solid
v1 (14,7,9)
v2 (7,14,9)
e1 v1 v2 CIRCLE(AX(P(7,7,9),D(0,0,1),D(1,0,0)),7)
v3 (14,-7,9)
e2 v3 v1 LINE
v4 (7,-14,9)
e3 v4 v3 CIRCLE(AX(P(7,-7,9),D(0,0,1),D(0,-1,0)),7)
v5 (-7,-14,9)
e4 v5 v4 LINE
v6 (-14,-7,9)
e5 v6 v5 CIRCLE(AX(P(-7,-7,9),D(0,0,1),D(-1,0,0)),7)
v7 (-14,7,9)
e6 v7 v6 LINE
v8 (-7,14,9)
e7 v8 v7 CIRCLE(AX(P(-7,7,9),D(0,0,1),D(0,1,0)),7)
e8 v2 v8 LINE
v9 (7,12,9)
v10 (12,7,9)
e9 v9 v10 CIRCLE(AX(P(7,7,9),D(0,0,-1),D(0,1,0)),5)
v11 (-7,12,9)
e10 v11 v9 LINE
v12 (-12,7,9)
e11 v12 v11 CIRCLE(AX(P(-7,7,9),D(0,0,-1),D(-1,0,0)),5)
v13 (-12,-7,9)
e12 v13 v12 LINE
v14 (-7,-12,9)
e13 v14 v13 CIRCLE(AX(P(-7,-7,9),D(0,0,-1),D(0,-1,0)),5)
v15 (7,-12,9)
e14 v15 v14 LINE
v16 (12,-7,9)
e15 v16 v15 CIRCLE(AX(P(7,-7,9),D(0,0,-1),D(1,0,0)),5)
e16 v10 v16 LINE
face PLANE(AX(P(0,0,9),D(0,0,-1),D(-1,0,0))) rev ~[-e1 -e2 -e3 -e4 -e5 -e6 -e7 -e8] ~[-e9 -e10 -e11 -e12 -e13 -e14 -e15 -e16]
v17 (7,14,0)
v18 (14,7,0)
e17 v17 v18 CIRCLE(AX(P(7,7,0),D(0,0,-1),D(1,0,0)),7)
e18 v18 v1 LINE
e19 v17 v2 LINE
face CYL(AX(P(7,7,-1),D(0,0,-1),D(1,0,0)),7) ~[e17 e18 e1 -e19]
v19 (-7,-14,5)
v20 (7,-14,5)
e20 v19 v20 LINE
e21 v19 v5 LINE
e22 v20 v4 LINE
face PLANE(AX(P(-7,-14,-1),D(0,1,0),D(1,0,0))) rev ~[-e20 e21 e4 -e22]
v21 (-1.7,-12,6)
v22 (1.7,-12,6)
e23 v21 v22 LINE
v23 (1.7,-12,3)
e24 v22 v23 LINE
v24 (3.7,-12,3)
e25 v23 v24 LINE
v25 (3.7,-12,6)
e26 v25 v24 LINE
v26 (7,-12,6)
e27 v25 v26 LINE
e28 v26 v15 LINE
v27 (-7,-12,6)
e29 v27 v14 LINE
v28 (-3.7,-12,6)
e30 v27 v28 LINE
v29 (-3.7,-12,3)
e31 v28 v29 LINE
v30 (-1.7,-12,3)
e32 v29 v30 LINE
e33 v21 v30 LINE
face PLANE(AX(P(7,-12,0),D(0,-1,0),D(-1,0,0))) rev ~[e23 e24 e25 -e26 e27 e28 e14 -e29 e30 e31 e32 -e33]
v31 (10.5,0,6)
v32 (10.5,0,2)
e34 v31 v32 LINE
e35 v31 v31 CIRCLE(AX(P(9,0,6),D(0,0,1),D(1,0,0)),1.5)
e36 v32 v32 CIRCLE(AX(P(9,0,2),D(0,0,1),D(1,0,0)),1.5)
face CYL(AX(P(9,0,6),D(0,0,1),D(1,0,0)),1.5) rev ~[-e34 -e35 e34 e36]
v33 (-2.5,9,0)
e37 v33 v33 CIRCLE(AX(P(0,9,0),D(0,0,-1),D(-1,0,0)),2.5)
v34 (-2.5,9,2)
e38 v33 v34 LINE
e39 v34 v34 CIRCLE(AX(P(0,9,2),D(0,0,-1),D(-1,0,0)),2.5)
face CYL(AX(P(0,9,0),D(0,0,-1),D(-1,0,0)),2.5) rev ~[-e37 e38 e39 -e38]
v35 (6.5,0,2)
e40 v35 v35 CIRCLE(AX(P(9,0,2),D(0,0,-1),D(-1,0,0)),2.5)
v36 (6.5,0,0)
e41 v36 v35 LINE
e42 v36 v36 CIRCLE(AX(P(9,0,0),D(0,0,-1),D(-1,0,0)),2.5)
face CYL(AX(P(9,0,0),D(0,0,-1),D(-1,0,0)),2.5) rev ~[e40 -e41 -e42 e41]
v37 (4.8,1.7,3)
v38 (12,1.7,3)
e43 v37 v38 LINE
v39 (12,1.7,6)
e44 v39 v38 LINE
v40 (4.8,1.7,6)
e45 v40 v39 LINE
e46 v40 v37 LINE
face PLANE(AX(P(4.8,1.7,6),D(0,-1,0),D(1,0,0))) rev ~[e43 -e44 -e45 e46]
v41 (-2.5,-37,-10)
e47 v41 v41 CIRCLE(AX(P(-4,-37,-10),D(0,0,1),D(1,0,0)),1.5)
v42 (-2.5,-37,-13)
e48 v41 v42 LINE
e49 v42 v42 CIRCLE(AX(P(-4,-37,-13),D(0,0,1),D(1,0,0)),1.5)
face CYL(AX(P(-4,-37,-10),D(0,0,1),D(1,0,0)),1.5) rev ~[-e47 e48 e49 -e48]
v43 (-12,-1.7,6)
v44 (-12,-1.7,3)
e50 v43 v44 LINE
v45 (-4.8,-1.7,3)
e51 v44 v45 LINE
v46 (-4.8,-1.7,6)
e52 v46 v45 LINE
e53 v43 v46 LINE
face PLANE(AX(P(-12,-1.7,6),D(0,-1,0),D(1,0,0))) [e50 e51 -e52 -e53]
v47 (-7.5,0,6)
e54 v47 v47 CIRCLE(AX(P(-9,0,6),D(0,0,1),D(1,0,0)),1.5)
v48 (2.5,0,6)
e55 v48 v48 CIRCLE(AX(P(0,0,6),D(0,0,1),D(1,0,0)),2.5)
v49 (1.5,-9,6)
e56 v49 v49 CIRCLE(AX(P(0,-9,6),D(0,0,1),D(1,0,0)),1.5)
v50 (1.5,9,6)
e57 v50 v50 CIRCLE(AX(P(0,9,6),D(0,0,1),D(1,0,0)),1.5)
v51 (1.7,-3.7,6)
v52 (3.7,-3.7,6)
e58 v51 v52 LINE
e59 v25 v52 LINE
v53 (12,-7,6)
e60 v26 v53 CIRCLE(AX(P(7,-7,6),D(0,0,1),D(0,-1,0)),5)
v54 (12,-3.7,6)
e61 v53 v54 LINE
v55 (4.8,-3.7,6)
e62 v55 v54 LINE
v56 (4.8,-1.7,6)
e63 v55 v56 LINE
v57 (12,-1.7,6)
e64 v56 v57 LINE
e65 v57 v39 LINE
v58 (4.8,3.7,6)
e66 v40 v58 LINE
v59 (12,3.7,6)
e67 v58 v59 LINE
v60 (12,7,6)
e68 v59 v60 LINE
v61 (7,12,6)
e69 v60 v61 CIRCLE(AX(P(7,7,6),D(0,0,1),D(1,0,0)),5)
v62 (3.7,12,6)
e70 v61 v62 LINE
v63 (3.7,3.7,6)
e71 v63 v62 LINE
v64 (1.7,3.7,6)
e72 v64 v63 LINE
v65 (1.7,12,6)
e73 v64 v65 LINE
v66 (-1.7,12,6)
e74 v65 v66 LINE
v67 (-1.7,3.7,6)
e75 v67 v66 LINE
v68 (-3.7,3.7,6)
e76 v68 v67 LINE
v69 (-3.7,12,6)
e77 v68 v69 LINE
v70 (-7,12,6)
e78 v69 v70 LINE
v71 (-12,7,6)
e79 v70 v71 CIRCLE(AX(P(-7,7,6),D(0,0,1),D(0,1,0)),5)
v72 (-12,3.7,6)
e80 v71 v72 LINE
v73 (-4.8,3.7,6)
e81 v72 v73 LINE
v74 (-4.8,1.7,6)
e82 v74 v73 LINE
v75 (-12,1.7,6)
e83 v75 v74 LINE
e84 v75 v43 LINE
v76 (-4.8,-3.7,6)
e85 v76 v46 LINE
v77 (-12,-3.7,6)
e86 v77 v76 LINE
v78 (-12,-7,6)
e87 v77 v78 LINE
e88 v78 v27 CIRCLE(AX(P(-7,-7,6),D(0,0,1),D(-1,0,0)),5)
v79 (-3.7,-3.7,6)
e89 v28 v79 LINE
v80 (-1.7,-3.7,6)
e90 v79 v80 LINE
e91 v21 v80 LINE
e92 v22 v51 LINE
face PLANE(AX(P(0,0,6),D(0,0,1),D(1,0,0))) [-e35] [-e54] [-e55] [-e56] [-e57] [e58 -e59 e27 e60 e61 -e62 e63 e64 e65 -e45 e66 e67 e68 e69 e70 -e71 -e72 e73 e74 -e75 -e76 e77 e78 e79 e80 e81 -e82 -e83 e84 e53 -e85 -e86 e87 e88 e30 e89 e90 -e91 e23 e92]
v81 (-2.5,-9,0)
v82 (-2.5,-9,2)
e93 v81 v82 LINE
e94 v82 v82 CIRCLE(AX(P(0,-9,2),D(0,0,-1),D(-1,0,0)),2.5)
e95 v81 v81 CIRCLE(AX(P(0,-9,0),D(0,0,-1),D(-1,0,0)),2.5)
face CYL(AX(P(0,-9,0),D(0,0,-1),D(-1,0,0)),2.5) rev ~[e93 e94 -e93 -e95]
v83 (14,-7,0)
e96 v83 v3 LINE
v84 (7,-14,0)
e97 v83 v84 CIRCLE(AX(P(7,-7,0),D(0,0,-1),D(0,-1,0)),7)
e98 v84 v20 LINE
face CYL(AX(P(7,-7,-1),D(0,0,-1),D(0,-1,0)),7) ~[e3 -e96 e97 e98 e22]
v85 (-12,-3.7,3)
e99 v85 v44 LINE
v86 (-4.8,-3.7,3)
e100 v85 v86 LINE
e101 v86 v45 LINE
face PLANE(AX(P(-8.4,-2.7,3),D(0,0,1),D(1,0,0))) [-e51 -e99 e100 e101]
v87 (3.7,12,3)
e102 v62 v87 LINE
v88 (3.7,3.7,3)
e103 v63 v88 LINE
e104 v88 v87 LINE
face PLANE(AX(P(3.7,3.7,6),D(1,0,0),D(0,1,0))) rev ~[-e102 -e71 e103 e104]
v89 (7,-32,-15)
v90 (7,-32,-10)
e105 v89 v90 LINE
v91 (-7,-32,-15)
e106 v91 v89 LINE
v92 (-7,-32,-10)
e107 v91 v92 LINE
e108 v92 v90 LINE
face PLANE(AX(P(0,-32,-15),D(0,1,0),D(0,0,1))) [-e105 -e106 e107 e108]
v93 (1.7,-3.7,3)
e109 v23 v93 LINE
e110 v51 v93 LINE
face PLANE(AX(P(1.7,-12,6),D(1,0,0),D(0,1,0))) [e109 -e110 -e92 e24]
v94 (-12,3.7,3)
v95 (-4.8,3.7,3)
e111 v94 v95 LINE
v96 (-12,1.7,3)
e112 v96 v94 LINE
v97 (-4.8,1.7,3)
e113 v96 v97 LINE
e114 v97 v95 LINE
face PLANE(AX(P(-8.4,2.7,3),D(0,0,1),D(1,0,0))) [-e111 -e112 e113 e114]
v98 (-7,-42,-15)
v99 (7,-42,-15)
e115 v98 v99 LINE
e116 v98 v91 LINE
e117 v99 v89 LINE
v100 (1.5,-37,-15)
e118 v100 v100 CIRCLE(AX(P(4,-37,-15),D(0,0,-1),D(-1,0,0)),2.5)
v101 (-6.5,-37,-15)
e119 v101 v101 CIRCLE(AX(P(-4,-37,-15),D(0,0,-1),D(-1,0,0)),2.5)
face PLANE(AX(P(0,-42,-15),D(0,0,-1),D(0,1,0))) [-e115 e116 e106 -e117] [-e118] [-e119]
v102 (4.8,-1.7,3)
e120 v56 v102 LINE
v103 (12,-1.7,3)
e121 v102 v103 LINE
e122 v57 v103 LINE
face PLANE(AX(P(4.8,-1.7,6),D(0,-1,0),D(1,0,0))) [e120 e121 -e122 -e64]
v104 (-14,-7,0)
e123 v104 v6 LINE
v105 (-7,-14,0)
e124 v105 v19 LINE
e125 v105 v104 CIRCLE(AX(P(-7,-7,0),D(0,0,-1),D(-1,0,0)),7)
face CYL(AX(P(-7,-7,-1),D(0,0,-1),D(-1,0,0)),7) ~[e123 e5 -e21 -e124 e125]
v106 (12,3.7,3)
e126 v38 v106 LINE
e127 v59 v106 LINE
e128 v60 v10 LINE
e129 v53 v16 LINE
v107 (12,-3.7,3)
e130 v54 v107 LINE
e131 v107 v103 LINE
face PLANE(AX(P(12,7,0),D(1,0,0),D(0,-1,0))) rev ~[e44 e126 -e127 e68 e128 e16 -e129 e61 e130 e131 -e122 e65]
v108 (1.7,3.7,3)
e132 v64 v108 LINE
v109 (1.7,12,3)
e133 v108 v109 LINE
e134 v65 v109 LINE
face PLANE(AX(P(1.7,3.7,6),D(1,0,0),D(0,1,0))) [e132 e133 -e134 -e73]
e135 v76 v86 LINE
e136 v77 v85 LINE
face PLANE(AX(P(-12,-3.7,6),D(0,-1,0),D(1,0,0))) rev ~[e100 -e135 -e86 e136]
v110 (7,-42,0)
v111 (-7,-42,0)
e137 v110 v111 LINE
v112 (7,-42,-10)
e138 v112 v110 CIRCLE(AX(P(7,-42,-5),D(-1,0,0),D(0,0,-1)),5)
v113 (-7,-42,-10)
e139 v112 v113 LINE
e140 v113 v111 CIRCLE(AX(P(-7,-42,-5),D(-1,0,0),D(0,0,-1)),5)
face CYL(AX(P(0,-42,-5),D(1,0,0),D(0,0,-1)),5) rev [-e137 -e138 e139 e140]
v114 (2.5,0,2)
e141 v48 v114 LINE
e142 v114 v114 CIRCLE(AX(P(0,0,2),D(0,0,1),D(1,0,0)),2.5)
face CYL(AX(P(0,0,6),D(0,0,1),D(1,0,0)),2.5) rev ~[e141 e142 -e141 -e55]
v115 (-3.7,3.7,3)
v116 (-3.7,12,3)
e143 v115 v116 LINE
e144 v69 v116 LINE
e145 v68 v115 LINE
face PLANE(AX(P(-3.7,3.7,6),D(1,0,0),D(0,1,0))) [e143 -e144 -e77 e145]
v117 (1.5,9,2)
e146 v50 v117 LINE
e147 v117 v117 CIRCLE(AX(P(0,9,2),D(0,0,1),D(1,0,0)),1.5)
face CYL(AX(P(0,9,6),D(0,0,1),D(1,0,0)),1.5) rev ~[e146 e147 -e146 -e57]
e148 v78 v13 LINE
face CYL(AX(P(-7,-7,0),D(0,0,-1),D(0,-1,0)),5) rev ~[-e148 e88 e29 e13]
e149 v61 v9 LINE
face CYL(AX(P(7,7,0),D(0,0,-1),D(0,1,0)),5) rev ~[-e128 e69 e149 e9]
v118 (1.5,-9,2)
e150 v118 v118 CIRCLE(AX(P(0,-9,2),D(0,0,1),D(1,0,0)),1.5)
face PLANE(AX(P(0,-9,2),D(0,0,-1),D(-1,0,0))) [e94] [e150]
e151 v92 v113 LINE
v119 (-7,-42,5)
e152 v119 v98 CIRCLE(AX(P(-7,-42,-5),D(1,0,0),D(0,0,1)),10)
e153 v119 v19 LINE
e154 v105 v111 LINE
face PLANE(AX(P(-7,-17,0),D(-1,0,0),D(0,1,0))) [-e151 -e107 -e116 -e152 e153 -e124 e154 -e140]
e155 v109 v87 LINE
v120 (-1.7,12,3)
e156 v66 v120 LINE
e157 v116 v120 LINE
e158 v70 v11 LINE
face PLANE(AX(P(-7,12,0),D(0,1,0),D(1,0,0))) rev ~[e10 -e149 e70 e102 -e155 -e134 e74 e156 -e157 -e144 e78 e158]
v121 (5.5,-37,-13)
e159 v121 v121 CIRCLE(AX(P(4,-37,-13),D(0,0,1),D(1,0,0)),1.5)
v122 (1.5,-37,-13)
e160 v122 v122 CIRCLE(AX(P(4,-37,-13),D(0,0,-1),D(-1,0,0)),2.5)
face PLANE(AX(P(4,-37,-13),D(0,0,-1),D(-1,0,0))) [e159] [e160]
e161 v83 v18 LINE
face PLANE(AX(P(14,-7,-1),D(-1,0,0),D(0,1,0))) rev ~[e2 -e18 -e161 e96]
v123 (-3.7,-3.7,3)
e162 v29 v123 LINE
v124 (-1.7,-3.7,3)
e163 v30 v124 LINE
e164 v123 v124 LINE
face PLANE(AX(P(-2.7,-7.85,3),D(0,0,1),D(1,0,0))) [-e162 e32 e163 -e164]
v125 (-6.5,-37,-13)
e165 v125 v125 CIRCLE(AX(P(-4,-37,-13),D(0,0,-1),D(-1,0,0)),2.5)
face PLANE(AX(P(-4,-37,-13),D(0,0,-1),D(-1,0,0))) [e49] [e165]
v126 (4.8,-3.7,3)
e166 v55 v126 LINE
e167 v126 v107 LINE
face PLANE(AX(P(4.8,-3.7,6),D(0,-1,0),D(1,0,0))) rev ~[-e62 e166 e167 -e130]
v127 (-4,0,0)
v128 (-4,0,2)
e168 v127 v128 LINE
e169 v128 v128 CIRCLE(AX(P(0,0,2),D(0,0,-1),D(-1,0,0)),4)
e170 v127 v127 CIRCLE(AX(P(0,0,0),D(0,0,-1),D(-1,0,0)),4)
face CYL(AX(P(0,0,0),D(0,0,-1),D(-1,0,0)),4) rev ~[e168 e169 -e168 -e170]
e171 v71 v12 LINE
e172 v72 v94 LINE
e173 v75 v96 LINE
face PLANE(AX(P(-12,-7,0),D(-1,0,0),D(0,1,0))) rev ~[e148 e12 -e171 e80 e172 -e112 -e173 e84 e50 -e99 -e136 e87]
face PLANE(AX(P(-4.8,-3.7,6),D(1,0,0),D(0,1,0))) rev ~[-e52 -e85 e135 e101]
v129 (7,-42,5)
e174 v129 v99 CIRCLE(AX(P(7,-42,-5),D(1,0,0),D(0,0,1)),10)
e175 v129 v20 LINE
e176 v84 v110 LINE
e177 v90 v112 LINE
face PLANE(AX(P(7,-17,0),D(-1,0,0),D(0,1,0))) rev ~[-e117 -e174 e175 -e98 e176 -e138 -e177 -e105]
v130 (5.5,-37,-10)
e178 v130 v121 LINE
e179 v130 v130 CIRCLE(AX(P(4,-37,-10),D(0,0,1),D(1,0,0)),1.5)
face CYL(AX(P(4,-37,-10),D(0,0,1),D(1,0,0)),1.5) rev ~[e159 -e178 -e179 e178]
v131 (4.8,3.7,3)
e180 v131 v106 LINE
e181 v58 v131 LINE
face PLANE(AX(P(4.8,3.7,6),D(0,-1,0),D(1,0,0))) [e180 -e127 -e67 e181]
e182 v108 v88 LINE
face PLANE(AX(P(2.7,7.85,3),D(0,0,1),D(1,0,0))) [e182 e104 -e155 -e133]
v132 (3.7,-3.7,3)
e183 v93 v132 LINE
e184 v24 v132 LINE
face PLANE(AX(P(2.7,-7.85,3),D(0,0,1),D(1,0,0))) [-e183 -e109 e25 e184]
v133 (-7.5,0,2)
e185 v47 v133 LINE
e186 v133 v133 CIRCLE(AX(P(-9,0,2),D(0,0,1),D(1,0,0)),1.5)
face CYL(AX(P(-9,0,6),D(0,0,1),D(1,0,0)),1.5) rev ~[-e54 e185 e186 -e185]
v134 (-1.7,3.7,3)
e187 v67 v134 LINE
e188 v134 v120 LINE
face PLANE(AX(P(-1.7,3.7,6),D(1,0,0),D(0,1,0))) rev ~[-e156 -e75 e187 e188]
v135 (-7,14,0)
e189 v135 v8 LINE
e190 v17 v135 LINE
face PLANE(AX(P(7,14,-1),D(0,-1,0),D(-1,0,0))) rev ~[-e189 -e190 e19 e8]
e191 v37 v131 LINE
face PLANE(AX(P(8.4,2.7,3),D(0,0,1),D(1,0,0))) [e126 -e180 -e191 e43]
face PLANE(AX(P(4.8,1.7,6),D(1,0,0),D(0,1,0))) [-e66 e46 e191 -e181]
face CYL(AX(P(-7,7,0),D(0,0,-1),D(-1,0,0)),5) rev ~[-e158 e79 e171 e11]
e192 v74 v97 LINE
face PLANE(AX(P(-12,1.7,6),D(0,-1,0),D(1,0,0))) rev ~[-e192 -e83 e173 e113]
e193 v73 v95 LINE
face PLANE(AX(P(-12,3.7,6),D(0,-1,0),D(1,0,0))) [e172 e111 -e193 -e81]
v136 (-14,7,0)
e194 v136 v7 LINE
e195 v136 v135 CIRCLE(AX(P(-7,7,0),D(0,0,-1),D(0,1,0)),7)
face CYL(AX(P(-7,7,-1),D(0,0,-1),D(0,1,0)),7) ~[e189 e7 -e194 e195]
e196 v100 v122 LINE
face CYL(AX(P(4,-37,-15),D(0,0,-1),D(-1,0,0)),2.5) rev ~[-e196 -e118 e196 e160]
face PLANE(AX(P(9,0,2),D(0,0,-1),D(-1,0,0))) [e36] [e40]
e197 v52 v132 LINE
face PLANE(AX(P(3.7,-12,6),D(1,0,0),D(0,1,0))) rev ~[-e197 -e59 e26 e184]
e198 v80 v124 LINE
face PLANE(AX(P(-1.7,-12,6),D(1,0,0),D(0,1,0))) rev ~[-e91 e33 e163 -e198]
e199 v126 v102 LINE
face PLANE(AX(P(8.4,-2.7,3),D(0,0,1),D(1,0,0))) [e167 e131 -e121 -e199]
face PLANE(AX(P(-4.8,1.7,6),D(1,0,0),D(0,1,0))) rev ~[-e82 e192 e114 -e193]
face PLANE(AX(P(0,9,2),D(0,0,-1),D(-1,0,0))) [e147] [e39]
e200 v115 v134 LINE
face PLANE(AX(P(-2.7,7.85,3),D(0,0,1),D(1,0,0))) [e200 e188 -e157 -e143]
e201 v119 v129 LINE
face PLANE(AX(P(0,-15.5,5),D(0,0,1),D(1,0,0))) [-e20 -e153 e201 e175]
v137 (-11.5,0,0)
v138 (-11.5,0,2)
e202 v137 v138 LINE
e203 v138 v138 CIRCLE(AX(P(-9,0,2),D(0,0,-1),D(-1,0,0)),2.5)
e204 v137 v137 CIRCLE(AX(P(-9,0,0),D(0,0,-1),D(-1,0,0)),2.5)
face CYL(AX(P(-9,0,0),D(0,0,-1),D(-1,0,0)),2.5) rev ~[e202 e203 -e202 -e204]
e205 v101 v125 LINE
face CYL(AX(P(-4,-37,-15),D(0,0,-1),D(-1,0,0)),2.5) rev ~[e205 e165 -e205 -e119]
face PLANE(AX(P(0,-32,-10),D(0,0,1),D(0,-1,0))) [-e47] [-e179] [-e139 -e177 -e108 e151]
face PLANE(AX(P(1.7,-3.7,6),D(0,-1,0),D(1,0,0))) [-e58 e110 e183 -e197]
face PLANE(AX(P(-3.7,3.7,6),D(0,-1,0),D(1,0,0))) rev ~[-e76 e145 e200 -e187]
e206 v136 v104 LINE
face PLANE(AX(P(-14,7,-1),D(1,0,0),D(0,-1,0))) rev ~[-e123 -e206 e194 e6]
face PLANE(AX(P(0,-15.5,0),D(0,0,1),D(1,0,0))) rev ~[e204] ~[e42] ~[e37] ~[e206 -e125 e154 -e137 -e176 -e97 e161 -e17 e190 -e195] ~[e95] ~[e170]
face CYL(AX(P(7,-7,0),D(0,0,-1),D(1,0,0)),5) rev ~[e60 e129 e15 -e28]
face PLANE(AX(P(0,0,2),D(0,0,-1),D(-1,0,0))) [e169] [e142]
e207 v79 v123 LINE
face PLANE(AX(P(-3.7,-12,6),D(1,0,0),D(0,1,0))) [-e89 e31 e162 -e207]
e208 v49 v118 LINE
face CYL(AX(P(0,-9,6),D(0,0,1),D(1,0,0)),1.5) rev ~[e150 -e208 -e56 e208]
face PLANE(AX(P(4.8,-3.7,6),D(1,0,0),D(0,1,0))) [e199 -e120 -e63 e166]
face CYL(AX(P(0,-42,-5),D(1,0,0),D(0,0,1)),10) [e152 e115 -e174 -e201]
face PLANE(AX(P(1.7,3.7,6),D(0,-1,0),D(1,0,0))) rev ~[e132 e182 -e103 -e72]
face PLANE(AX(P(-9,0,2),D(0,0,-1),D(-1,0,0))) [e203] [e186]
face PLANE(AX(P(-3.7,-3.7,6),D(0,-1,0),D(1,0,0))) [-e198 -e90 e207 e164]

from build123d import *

# Parameters (mm, degrees)
Y_KSEKLIK_EKSTR_ZYON1_DEPTH = 9
Y_KSEKLIK_EKSTR_ZYON2_DEPTH = 6
IZIM4_R                     = 1.5
IZIM4_R_2                   = 2.5
KES_EKSTR_ZYON2_DEPTH       = 6.5
IZIM5_W                     = 14
IZIM5_H                     = 15
Y_KSEKLIK_EKSTR_ZYON3_DEPTH = 5
Y_KSEKLIK_EKSTR_ZYON4_DEPTH = 7
IZIM3_W                     = 7.2
IZIM3_H                     = 2
IZIM3_W_2                   = 2
IZIM3_H_2                   = 8.3
KES_EKSTR_ZYON3_DEPTH       = 3
IZIM8_R                     = 1.5
KES_EKSTR_ZYON5_DEPTH       = 10
IZIM9_R                     = 2.5
IZIM9_R_2                   = 4
KES_EKSTR_ZYON6_DEPTH       = 2
IZIM11_R                    = 2.5
KES_EKSTR_ZYON8_DEPTH       = 2
KES_EKSTR_ZYON9_START       = -10
KES_EKSTR_ZYON9_DEPTH       = 10
IZIM14_W                    = 14
IZIM14_H                    = 3
Y_KSEKLIK_EKSTR_ZYON5_DEPTH = 5


with BuildPart() as part:
    # Çizim1 → Yükseklik-Ekstrüzyon1 (new body)
    with BuildSketch(Plane.XY):
        with BuildLine():
            Line((17, 7), (17, -7))
            ThreePointArc((17, -7), (14.071067812, -14.071067812), (7, -17))
            Line((7, -17), (-7, -17))
            ThreePointArc((-7, -17), (-14.071067812, -14.071067812), (-17, -7))
            Line((-17, -7), (-17, 7))
            ThreePointArc((-17, 7), (-14.071067812, 14.071067812), (-7, 17))
            Line((-7, 17), (7, 17))
            ThreePointArc((7, 17), (14.071067812, 14.071067812), (17, 7))
        make_face()
        with BuildLine():
            Line((-7, 12), (7, 12))
            ThreePointArc((7, 12), (10.535533906, 10.535533906), (12, 7))
            Line((12, 7), (12, -7))
            ThreePointArc((12, -7), (10.535533906, -10.535533906), (7, -12))
            Line((7, -12), (-7, -12))
            ThreePointArc((-7, -12), (-10.535533906, -10.535533906), (-12, -7))
            Line((-12, -7), (-12, 7))
            ThreePointArc((-12, 7), (-10.535533906, 10.535533906), (-7, 12))
        make_face(mode=Mode.SUBTRACT)
    extrude(amount=Y_KSEKLIK_EKSTR_ZYON1_DEPTH)

    # Çizim2 → Yükseklik-Ekstrüzyon2 (add)
    with BuildSketch(Plane.XY):
        with BuildLine():
            Line((-7, -12), (7, -12))
            ThreePointArc((7, -12), (10.535533906, -10.535533906), (12, -7))
            Line((12, -7), (12, 7))
            ThreePointArc((12, 7), (10.535533906, 10.535533906), (7, 12))
            Line((7, 12), (-7, 12))
            ThreePointArc((-7, 12), (-10.535533906, 10.535533906), (-12, 7))
            Line((-12, 7), (-12, -7))
            ThreePointArc((-12, -7), (-10.535533906, -10.535533906), (-7, -12))
        make_face()
    extrude(amount=Y_KSEKLIK_EKSTR_ZYON2_DEPTH)

    # Çizim4 → Kes-Ekstrüzyon2 (cut)
    with BuildSketch(Plane.XY.offset(6)):
        with Locations((0, 9)):
            Circle(IZIM4_R)
        Circle(IZIM4_R_2)
        with Locations((9, 0)):
            Circle(IZIM4_R)
        with Locations((0, -9)):
            Circle(IZIM4_R)
        with Locations((-9, 0)):
            Circle(IZIM4_R)
    extrude(amount=-KES_EKSTR_ZYON2_DEPTH, mode=Mode.SUBTRACT)

    # Çizim5 → Yükseklik-Ekstrüzyon3 (add)
    with BuildSketch(Plane.XY):
        with Locations((0, -24.5)):
            Rectangle(IZIM5_W, IZIM5_H)
    extrude(amount=Y_KSEKLIK_EKSTR_ZYON3_DEPTH)

    # Çizim6 → Yükseklik-Ekstrüzyon4 (add, symmetric)
    with BuildSketch(Plane(origin=(0, 0, 0), x_dir=(0, 0, -1), z_dir=(1, 0, 0))):
        with BuildLine():
            Line((0, -32), (-5, -32))
            Line((-5, -32), (-5, -42))
            ThreePointArc((-5, -42), (5, -52), (15, -42))
            Line((15, -42), (15, -32))
            Line((15, -32), (10, -32))
            Line((10, -32), (10, -42))
            ThreePointArc((10, -42), (5, -47), (0, -42))
            Line((0, -42), (0, -32))
        make_face()
    extrude(amount=Y_KSEKLIK_EKSTR_ZYON4_DEPTH, both=True)

    # Çizim3 → Kes-Ekstrüzyon3 (cut)
    with BuildSketch(Plane.XY.offset(6)):
        with Locations((8.4, 2.7)):
            Rectangle(IZIM3_W, IZIM3_H)
        with Locations((2.7, 7.85)):
            Rectangle(IZIM3_W_2, IZIM3_H_2)
        with Locations((-2.7, 7.85)):
            Rectangle(IZIM3_W_2, IZIM3_H_2)
        with Locations((-8.4, 2.7)):
            Rectangle(IZIM3_W, IZIM3_H)
        with Locations((-8.4, -2.7)):
            Rectangle(IZIM3_W, IZIM3_H)
        with Locations((-2.7, -7.85)):
            Rectangle(IZIM3_W_2, IZIM3_H_2)
        with Locations((2.7, -7.85)):
            Rectangle(IZIM3_W_2, IZIM3_H_2)
        with Locations((8.4, -2.7)):
            Rectangle(IZIM3_W, IZIM3_H)
    extrude(amount=-KES_EKSTR_ZYON3_DEPTH, mode=Mode.SUBTRACT)

    # Çizim8 → Kes-Ekstrüzyon5 (cut)
    with BuildSketch(Plane.XY.offset(-10)):
        with Locations((-4, -37)):
            Circle(IZIM8_R)
        with Locations((4, -37)):
            Circle(IZIM8_R)
    extrude(amount=-KES_EKSTR_ZYON5_DEPTH, mode=Mode.SUBTRACT)

    # Çizim9 → Kes-Ekstrüzyon6 (cut)
    with BuildSketch(Plane(origin=(0, 0, 0), x_dir=(-1, 0, 0), z_dir=(0, 0, -1))):
        with Locations((0, 9)):
            Circle(IZIM9_R)
        Circle(IZIM9_R_2)
        with Locations((9, 0)):
            Circle(IZIM9_R)
        with Locations((0, -9)):
            Circle(IZIM9_R)
        with Locations((-9, 0)):
            Circle(IZIM9_R)
    extrude(amount=-KES_EKSTR_ZYON6_DEPTH, mode=Mode.SUBTRACT)

    # Çizim11 → Kes-Ekstrüzyon8 (cut)
    with BuildSketch(Plane(origin=(0, 0, -15), x_dir=(-1, 0, 0), z_dir=(0, 0, -1))):
        with Locations((-4, -37)):
            Circle(IZIM11_R)
        with Locations((4, -37)):
            Circle(IZIM11_R)
    extrude(amount=-KES_EKSTR_ZYON8_DEPTH, mode=Mode.SUBTRACT)

    # Çizim12 → Kes-Ekstrüzyon9 (cut)
    with BuildSketch(Plane.XY.offset(9).offset(KES_EKSTR_ZYON9_START)):
        with BuildLine():
            Line((7, 17), (-7, 17))
            ThreePointArc((-7, 17), (-14.071067812, 14.071067812), (-17, 7))
            Line((-17, 7), (-17, -7))
            ThreePointArc((-17, -7), (-14.071067812, -14.071067812), (-7, -17))
            Line((-7, -17), (7, -17))
            ThreePointArc((7, -17), (14.071067812, -14.071067812), (17, -7))
            Line((17, -7), (17, 7))
            ThreePointArc((17, 7), (14.071067812, 14.071067812), (7, 17))
        make_face()
        with BuildLine():
            Line((7, 14), (-7, 14))
            ThreePointArc((-7, 14), (-11.949747468, 11.949747468), (-14, 7))
            Line((-14, 7), (-14, -7))
            ThreePointArc((-14, -7), (-11.949747468, -11.949747468), (-7, -14))
            Line((-7, -14), (7, -14))
            ThreePointArc((7, -14), (11.949747468, -11.949747468), (14, -7))
            Line((14, -7), (14, 7))
            ThreePointArc((14, 7), (11.949747468, 11.949747468), (7, 14))
        make_face(mode=Mode.SUBTRACT)
    extrude(amount=KES_EKSTR_ZYON9_DEPTH, mode=Mode.SUBTRACT)


with BuildPart() as kes_ekstr_zyon9_piece_1:
    # of the separate pieces the step leaves, piece 1, a body of its own (kes_ekstr_zyon9_pieces)
    add(part.part.solids().sort_by_distance((7, 14, 0))[0])



with BuildPart() as kes_ekstr_zyon9_piece_2:
    # of the separate pieces the step leaves, piece 2, a body of its own (kes_ekstr_zyon9_pieces)
    add(part.part.solids().sort_by_distance((-7, -42, 0))[0])


with BuildPart() as kes_ekstr_zyon9_piece_1_1:
    add(kes_ekstr_zyon9_piece_1.part)

    add(kes_ekstr_zyon9_piece_2.part)  # Yükseklik-Ekstrüzyon5 merges Kes-Ekstrüzyon9 piece 2
    # Çizim14 → Yükseklik-Ekstrüzyon5 (add)
    with BuildSketch(Plane.XY):
        with Locations((0, -15.5)):
            Rectangle(IZIM14_W, IZIM14_H)
    extrude(amount=Y_KSEKLIK_EKSTR_ZYON5_DEPTH)


solid = kes_ekstr_zyon9_piece_1_1.part
